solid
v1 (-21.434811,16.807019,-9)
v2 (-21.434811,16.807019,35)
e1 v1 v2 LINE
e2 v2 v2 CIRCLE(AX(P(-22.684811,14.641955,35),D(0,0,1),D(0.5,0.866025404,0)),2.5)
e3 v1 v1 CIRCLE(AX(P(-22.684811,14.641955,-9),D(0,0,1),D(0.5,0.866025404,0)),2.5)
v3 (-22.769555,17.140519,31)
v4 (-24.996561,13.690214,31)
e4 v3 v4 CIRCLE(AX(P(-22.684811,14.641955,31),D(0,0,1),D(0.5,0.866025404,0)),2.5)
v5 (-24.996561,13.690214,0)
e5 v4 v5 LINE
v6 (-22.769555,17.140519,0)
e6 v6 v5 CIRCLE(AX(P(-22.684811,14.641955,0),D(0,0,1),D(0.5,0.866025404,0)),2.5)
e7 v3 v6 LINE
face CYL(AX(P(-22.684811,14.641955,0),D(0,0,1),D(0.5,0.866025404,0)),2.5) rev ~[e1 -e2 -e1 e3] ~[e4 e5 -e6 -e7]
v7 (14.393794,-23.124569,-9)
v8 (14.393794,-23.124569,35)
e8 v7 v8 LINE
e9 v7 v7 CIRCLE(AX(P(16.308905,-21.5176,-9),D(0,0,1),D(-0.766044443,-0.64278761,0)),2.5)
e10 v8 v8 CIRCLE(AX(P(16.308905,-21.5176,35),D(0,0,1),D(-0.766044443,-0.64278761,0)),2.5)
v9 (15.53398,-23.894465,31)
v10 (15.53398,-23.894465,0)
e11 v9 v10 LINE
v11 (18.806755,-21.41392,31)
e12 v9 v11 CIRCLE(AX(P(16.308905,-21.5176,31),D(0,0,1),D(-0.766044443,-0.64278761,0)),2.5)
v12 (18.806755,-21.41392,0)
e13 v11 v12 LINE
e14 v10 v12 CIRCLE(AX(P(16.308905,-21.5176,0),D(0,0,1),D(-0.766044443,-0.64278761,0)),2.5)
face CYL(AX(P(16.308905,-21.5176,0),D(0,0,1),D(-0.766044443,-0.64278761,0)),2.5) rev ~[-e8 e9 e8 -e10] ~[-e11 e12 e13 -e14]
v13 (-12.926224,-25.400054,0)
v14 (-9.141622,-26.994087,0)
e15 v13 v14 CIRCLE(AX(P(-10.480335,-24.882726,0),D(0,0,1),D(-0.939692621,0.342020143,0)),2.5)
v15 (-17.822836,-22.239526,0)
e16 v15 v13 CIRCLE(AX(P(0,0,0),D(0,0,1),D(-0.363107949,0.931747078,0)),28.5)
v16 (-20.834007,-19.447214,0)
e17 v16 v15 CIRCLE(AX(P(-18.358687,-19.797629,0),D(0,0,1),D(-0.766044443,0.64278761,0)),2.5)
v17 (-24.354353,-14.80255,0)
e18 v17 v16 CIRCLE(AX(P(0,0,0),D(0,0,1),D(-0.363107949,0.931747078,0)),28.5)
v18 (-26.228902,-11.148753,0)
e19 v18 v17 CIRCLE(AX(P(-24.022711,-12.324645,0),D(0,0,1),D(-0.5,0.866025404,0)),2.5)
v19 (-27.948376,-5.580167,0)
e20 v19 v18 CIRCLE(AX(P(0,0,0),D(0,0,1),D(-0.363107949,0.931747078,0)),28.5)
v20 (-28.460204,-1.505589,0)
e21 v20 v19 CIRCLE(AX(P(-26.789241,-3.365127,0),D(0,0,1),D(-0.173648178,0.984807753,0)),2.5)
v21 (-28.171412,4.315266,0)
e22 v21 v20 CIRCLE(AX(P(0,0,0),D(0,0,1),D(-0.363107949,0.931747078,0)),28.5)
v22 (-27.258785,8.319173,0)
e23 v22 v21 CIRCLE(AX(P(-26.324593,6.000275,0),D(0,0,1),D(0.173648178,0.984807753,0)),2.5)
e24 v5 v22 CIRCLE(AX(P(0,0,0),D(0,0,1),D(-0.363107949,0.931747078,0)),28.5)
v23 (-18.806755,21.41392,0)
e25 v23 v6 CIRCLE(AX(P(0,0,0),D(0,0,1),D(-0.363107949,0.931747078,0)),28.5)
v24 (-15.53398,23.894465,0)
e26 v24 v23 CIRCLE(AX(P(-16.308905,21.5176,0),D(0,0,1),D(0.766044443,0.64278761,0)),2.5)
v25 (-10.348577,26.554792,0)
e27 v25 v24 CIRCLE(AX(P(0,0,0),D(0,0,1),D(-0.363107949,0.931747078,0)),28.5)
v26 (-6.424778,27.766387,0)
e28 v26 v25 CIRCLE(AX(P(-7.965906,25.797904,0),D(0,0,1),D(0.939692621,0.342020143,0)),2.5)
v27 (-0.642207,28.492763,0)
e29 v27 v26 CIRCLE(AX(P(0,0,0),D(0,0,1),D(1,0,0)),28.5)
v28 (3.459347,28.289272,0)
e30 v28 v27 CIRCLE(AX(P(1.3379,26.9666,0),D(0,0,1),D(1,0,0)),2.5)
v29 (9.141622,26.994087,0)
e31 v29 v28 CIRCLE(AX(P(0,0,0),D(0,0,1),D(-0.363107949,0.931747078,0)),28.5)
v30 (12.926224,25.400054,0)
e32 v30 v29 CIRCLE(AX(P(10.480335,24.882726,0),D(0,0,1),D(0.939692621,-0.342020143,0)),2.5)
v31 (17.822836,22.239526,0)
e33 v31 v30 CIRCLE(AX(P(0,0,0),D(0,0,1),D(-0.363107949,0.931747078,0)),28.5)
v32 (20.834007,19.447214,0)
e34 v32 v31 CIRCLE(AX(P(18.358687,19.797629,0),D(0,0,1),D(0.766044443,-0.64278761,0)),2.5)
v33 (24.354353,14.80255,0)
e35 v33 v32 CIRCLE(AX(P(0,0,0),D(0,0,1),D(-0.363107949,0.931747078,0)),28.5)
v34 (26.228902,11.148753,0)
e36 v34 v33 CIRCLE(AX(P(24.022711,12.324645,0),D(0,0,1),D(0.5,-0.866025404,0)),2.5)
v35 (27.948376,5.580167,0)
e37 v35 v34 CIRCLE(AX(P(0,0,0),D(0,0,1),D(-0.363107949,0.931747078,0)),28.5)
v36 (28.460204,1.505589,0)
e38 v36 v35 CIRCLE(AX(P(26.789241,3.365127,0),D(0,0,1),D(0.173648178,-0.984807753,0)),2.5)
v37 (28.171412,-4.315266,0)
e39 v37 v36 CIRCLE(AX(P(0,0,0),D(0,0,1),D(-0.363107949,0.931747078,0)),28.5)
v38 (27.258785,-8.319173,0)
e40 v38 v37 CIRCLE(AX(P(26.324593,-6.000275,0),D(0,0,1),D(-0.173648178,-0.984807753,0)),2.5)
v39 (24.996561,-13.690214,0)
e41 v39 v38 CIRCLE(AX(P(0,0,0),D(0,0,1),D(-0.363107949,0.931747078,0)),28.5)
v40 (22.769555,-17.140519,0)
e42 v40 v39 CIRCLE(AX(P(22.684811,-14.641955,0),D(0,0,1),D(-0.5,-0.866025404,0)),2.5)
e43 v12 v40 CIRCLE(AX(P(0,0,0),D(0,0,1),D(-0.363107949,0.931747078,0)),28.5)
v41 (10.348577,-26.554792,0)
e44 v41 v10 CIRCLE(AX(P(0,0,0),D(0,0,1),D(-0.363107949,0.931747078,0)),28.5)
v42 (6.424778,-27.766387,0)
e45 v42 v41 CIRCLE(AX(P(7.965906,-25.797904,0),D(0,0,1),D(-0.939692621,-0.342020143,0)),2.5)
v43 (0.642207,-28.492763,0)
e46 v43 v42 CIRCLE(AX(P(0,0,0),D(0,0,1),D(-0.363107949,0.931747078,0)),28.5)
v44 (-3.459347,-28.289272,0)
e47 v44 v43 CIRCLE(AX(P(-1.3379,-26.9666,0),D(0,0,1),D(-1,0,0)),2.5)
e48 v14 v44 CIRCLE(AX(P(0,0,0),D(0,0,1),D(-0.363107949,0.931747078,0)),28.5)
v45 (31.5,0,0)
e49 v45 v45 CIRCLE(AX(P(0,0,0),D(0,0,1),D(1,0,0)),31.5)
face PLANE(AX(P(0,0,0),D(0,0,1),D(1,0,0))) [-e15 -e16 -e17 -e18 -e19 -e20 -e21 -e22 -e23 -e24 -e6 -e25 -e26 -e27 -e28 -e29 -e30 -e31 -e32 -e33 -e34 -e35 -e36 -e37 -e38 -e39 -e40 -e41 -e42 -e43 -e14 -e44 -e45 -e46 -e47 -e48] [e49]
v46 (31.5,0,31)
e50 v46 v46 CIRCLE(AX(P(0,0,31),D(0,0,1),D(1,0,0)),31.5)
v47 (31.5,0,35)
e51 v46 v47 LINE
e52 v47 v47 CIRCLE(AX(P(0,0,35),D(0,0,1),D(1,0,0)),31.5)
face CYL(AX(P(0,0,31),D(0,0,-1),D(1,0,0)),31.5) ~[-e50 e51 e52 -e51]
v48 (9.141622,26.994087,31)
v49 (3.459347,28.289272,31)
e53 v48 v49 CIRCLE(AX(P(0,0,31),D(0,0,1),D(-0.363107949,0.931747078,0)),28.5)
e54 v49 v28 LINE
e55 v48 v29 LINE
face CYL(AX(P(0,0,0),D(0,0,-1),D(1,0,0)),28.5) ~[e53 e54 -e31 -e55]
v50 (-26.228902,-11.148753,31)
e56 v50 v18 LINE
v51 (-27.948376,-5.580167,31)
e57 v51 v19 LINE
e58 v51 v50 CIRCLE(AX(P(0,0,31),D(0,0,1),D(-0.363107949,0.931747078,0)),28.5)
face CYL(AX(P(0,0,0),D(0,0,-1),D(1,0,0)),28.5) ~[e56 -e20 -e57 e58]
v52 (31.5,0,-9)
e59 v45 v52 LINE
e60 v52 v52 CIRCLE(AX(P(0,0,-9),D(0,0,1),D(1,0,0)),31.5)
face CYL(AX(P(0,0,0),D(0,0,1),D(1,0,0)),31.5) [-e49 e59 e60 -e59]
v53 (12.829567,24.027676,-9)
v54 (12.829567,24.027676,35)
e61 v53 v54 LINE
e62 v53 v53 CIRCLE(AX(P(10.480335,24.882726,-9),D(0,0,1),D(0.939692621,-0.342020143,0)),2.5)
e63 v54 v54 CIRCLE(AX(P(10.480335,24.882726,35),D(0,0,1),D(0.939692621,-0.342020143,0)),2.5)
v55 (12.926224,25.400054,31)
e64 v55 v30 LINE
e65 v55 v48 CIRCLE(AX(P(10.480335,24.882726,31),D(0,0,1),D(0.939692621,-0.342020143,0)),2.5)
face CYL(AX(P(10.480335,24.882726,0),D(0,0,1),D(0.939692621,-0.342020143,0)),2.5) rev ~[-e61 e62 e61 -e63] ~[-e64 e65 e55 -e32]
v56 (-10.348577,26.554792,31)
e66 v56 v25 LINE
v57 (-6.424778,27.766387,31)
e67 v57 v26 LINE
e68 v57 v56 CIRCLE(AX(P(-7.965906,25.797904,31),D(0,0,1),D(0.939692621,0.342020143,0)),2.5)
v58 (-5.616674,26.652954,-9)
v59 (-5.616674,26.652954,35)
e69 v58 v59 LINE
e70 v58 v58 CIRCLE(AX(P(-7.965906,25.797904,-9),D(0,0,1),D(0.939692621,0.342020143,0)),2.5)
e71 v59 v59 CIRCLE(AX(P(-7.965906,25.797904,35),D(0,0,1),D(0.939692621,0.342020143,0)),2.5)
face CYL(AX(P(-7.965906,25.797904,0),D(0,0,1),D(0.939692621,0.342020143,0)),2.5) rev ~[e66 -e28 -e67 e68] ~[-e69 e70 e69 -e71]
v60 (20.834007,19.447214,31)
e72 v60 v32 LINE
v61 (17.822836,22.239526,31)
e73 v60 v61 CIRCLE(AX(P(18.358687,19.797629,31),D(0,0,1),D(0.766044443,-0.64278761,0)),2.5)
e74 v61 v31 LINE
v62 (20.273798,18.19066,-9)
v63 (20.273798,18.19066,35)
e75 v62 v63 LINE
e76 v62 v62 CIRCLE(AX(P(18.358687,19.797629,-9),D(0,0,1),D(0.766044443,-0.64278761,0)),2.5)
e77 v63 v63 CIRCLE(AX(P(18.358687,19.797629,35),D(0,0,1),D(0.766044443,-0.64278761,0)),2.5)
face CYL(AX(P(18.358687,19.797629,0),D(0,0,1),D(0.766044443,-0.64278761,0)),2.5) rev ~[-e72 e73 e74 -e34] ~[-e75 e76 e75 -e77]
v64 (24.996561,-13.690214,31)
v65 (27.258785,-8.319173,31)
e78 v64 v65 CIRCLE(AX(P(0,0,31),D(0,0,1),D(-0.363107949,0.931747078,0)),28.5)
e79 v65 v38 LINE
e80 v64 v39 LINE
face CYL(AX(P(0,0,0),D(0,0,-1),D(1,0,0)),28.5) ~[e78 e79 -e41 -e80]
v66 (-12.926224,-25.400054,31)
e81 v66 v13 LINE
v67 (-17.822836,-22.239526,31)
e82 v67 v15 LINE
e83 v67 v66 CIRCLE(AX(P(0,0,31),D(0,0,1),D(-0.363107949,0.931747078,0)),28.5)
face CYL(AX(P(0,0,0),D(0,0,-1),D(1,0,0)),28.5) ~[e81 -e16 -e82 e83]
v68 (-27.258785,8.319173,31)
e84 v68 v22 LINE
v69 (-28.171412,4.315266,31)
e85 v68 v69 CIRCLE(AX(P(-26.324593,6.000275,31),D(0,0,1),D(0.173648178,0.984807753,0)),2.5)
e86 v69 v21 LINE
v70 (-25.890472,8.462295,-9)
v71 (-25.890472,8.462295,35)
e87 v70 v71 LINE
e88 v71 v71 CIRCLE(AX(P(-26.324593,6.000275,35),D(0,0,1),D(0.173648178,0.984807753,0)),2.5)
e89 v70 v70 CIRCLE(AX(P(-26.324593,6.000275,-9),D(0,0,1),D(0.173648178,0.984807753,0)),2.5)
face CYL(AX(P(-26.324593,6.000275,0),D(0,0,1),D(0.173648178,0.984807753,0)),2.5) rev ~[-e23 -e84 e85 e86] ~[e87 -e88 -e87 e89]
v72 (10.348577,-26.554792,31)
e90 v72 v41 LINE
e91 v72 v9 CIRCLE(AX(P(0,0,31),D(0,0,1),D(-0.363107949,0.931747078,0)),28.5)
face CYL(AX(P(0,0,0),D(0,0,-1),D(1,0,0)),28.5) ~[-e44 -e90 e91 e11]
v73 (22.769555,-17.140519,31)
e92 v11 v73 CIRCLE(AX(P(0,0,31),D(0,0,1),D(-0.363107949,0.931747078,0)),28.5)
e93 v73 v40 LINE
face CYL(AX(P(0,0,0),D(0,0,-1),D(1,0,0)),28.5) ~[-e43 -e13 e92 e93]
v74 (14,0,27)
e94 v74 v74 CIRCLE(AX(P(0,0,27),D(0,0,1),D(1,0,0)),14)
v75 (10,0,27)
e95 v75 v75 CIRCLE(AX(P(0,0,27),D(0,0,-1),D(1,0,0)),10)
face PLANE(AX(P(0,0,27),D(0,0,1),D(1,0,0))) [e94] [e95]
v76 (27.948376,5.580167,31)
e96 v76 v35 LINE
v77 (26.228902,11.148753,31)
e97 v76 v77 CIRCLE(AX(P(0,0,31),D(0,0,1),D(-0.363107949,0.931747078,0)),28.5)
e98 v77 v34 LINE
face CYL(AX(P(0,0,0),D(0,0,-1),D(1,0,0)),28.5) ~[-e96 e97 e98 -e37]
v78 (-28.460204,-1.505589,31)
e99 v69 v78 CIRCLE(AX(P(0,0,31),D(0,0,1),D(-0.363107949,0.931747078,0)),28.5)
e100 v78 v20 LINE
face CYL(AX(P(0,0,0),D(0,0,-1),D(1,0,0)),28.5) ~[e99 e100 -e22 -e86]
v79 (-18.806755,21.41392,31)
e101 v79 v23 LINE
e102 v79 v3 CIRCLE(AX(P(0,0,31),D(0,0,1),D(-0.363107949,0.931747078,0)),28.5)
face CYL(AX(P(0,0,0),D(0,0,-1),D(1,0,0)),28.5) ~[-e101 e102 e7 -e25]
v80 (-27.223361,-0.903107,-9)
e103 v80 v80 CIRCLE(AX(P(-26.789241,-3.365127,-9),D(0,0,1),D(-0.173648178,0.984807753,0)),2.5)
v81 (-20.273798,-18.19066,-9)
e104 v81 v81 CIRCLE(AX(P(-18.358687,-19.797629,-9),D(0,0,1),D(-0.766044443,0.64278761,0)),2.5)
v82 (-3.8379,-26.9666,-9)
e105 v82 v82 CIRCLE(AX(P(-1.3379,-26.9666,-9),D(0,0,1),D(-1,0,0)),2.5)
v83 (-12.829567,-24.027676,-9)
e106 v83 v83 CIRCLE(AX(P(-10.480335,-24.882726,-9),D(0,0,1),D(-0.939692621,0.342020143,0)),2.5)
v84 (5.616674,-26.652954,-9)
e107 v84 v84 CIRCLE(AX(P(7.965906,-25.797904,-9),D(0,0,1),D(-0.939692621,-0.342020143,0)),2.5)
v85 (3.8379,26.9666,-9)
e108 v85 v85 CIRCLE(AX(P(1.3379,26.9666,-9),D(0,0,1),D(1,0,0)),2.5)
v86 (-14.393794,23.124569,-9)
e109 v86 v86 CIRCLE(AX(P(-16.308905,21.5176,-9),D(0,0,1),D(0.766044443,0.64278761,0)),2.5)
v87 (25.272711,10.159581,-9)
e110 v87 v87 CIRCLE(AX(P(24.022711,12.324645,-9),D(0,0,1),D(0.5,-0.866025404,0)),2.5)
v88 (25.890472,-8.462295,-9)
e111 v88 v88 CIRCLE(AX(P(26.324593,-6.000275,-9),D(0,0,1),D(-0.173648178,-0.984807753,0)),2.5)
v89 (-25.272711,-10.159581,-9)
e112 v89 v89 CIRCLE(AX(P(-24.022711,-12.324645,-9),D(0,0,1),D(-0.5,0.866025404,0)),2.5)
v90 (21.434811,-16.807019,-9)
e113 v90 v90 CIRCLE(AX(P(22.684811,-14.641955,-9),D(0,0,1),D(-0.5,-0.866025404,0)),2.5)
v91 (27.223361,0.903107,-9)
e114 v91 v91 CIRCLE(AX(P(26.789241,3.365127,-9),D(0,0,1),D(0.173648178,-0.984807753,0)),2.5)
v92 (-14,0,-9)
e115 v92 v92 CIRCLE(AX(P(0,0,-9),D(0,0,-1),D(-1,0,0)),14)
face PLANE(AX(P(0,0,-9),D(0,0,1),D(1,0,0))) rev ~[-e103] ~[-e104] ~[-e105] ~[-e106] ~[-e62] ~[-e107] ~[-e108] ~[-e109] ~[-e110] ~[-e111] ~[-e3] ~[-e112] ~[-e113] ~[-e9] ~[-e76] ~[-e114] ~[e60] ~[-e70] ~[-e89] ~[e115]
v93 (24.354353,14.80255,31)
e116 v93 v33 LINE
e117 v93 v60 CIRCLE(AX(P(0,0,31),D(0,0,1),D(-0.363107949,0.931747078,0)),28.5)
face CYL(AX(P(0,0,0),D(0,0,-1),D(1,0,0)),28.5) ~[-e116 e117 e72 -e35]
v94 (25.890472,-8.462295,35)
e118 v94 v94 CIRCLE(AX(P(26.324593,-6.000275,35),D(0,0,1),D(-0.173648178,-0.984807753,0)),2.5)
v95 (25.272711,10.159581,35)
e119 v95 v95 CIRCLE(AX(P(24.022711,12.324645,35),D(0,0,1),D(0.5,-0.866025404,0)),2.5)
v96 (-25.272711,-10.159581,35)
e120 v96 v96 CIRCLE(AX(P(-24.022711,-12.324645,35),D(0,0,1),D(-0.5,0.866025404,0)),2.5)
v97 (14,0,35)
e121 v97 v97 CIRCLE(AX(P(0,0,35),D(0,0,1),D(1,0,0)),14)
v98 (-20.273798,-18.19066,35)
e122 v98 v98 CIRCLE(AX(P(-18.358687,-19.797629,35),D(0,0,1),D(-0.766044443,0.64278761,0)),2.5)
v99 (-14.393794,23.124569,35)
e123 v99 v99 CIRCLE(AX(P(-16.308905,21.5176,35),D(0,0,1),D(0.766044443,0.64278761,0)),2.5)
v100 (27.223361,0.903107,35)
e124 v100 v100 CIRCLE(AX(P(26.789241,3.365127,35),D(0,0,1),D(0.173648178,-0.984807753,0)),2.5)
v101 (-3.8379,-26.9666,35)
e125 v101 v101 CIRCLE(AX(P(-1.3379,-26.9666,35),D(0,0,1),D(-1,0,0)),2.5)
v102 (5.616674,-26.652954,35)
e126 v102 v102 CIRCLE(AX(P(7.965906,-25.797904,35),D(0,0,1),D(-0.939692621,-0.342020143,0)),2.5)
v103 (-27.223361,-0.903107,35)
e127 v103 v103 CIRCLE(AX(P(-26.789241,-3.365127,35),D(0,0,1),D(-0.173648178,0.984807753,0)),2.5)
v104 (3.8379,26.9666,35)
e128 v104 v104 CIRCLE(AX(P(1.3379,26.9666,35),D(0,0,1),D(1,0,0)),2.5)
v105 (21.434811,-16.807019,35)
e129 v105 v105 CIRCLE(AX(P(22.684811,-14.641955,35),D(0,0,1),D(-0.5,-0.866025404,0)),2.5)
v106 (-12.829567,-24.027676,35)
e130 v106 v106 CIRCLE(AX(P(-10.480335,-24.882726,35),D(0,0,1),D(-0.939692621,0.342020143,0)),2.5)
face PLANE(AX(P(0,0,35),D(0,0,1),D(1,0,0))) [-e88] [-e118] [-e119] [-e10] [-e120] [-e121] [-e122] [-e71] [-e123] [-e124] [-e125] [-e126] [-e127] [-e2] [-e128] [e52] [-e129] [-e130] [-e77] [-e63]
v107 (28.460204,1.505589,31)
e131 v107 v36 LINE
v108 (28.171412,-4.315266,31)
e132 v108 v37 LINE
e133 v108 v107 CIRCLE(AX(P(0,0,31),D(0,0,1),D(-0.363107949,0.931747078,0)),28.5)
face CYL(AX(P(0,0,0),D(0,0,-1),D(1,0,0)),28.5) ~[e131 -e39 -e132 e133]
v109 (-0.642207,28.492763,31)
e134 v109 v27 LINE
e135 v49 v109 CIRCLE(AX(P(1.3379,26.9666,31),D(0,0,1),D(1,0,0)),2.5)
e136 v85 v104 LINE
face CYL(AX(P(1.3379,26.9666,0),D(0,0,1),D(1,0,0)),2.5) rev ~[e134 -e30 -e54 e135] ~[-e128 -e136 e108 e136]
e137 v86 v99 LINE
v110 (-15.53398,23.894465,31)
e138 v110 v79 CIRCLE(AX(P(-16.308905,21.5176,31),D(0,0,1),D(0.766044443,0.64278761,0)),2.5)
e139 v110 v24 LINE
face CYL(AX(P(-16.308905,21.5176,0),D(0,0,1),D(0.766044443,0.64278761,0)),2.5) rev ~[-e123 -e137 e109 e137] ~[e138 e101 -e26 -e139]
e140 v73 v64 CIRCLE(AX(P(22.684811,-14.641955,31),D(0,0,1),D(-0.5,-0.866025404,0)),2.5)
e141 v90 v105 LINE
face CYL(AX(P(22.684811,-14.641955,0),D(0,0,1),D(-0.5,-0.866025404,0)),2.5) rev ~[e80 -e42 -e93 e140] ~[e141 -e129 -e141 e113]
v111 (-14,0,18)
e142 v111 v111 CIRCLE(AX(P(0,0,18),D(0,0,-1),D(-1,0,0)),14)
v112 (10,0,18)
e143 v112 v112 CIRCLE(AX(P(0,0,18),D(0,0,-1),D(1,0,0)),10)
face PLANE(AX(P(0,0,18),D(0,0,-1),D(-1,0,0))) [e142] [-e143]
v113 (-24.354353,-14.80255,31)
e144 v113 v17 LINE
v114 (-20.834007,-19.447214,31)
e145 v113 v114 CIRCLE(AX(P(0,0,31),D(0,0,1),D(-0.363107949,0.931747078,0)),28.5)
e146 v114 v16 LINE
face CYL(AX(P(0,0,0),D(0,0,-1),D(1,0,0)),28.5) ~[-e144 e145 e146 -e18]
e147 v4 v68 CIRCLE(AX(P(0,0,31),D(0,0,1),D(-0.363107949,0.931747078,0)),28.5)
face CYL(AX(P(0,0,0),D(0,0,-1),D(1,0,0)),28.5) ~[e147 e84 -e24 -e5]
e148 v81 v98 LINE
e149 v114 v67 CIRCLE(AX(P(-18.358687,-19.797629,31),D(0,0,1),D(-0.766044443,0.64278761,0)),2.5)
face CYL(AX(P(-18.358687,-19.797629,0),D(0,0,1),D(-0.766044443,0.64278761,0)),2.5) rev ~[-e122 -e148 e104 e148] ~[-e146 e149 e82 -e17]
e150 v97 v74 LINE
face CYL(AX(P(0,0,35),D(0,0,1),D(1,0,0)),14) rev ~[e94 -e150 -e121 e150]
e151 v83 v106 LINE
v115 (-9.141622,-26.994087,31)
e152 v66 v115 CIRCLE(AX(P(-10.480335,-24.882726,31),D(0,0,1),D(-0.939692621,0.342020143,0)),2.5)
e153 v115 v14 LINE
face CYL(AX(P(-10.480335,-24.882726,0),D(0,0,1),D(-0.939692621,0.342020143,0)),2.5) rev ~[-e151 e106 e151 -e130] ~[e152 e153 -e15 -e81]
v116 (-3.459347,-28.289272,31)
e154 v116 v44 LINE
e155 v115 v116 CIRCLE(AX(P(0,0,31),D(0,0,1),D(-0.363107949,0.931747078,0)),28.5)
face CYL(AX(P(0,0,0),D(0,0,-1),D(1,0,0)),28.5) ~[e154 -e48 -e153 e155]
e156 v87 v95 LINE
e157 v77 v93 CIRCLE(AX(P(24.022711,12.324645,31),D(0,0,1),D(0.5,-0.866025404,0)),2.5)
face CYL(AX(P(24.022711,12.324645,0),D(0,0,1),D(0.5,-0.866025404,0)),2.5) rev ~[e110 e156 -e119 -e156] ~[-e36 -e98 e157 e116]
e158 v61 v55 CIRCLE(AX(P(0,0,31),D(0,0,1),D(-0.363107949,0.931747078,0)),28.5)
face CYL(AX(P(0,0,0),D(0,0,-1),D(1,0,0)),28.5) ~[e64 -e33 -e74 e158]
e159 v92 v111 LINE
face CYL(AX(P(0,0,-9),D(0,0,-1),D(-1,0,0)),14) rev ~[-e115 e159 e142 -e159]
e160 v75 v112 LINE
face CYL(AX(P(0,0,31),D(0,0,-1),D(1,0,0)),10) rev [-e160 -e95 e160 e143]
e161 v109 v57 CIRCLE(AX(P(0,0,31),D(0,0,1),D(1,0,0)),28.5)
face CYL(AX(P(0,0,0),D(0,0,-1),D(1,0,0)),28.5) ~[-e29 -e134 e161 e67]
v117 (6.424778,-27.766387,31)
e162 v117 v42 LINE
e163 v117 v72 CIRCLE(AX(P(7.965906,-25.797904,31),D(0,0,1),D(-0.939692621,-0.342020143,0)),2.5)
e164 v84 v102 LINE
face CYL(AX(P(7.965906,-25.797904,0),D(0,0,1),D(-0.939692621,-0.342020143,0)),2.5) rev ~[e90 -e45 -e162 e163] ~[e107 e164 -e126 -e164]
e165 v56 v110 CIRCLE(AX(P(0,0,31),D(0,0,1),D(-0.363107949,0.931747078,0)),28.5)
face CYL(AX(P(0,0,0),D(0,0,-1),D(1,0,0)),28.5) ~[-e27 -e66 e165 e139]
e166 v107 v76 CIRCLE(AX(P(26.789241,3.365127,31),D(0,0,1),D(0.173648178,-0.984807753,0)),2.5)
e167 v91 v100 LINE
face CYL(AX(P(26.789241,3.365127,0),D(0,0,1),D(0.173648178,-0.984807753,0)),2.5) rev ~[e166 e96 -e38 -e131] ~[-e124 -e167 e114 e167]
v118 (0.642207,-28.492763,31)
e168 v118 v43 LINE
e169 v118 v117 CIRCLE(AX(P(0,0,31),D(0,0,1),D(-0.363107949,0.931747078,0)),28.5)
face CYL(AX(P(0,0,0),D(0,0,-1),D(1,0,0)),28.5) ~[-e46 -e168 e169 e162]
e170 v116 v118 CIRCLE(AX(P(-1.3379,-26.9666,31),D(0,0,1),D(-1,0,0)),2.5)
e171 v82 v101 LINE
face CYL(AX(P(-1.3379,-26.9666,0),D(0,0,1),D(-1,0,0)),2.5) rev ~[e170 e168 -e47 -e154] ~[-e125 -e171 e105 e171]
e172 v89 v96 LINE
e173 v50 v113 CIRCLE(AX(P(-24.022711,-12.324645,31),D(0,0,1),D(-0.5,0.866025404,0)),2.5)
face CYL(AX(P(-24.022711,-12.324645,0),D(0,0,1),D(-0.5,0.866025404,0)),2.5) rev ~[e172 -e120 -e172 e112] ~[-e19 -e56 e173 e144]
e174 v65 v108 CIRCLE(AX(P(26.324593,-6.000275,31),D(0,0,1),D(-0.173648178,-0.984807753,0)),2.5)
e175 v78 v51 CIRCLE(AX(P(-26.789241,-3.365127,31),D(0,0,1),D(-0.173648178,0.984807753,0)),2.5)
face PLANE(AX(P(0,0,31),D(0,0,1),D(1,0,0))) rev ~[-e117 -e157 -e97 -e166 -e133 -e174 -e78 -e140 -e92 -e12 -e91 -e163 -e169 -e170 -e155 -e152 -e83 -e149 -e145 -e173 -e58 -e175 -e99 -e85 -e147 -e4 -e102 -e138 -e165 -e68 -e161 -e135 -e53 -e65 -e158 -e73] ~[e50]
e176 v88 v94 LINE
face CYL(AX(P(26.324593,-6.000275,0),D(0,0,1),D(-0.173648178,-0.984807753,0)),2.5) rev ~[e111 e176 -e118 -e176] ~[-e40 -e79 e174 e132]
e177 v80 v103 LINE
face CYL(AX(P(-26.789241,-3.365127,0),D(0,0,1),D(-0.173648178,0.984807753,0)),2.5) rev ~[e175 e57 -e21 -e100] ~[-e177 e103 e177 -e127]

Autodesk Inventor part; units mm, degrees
ref_plane "YZ Plane" through (0, 0, 0) normal (1, 0, 0) x (0, 1, 0)
ref_plane "XZ Plane" through (0, 0, 0) normal (0, 1, 0) x (-1, 0, 0)
ref_plane "XY Plane" through (0, 0, 0) normal (0, 0, 1) x (1, 0, 0)
sketch "Sketch1" plane through (0, 0, 0) normal (0, 0, 1) x (1, 0, 0)
  circle A0 centre (0.0338, 1.5) radius 28.5
  arc A1 (-1.1621, 26.972) -> (1.1984, 26.9734) centre (0.0338, 1.5) ccw
  line L0 (-1.1621, 26.972) -> (0.0338, 1.5)
  line L1 (0.0338, 1.5) -> (1.1984, 26.9734)
  arc A2 (1.3007, 29.9718) -> (-1.3028, 29.9687) centre (0.0338, 1.5) ccw
  circle A3 centre (1.3379, 26.9666) radius 2.5
  point P0 (1.3508, 29.9696)
  dimension "d53" = 5
  dimension "d22" = 57
  dimension "d23" = 51
sketch "Sketch2" plane through (0, 0, 0) normal (0, 0, 1) x (1, 0, 0)
  circle A0 centre (0, 0) radius 28.5
  circle A1 centre (0, 0) radius 10
  circle A2 centre (0, 0) radius 31.5
  dimension "d10" = 57
  dimension "d32" = 63
  dimension "d37" = 20
extrude "Extrusion5" add sketch "Sketch2" along normal blind 31 contours A0
extrude "Extrusion9" add sketch "Sketch2" against normal blind 9 contours A0 | A2
sketch "Sketch3" plane through (0, 0, 31) normal (0, 0, 1) x (1, 0, 0)
  circle A0 centre (0, 0) radius 31.5
  circle A1 centre (0, 0) radius 10
  dimension "d38" = 63
  dimension "d40" = 20
extrude "Extrusion11" add sketch "Sketch3" along normal blind 4
extrude "Extrusion15" cut sketch "Sketch1" along normal through all both and the other way through all contours A3 A1 L1 | A3 L1 A1
pattern_circular "Circular Pattern4" count 18 over 360 about axis through (0, 0, 0) along (0, 0, 1) of "Extrusion15"
sketch "Sketch7" plane through (0, 0, -9) normal (0, 0, -1) x (-1, 0, 0)
  circle A0 centre (0, 0) radius 10 projected
  circle A1 centre (0, 0) radius 31.5 projected
  circle A2 centre (0, 0) radius 14
  dimension "d62" = 28
extrude "Extrusion17" cut sketch "Sketch7" against normal blind 27 contours A2
sketch "Sketch8" plane through (0, 0, 35) normal (0, 0, 1) x (1, 0, 0)
  circle A0 centre (0, 0) radius 14
  dimension "d65" = 28
extrude "Extrusion18" cut sketch "Sketch8" against normal blind 8
ref_plane "Work Plane2" through (0, 0, 15.5) normal (0, 0, 1) x (1, 0, 0)
equation "\"d53\" = 2 * SzíjFogakSugaraA"
equation "\"d22\" = 0.5 * NagyKerekAtmero"
equation "\"d23\" = 0.5 * NagyKerekAtmero - 2 * SzíjSugarKözépontEltolásaAzAlaptolA"
equation "\"d10\" = 0.5 * NagyKerekAtmero"
equation "\"d32\" = 0.5 * NagyKerekAtmero + 2 * NagyKerekPeremMagasaga"
equation "\"d37\" = NgyKerekFurat"
equation "\"d15\" = SzíjSzélességB"
equation "\"d38\" = 0.5 * NagyKerekAtmero + 2 * NagyKerekPeremMagasaga"
equation "\"d40\" = NgyKerekFurat"
equation "\"d54\" = NagyKerekPeremSzélesege"
equation "\"d63\" = NagyKerekPeremSzélesege + 0.5 * SzíjSzélességB + 0.5 * KisKerekCSapagySzeleseg"
equation "\"SzíjSzélességA\" = 31"
equation "\"SzíjAlapVastagságA\" = 3"
equation "\"SzíjFogakSugaraA\" = 2.5"
equation "\"SzíjSugarKözépontEltolásaAzAlaptolA\" = 3"
equation "\"NagyKerekAtmero\" = 114"
equation "\"SzíjSzélességB\" = 31"
equation "\"SzíjFogakSugaraB\" = 2.5"
equation "\"SzíjSugarKözépontEltolásaAzAlaptolB\" = 3"
equation "\"SzíjAlapVastagságB\" = 3"
equation "\"NagyKerekPeremSzélesege\" = 4"
equation "\"NagyKerekPeremMagasaga\" = 3"
equation "\"NgyKerekFurat\" = 20"
equation "\"NagyKerekTengelyVastagsag\" = 14"
equation "\"NagyKerékCsapágySzéleseg\" = 15"
equation "\"NagyKerekTengelyVastagság\" = 14"
equation "\"NagyKerékCsapágyBelsőÁtmérő\" = 12"
equation "\"TartoCsőFalVastagsága\" = 2"
equation "\"KisCsoBelsoFalvastagsag\" = 2"
equation "\"OrsoTengelyAtmeroje\" = 8"
equation "\"KisCsaoagyKulsoAtmero\" = 18"
equation "\"CsigaHajtásFogasKerékÁtmérő\" = 56"
equation "\"ZártSzelvényFalVastagság\" = 2"
equation "\"NagyFogaskerekSzelesege\" = 8"
equation "\"LemezVastagsag\" = 2"
equation "\"ZártSzelvényBelsőÁtmérő\" = 12"
equation "\"ForgoTalpKarBeugrasztas\" = 82"
equation "\"KisKerekCSapagySzeleseg\" = 15"
equation "\"NagyKerékSzélesege\" = 75"
properties part number "NagyKerek" material "Nylon, molybdenum disulphide"
